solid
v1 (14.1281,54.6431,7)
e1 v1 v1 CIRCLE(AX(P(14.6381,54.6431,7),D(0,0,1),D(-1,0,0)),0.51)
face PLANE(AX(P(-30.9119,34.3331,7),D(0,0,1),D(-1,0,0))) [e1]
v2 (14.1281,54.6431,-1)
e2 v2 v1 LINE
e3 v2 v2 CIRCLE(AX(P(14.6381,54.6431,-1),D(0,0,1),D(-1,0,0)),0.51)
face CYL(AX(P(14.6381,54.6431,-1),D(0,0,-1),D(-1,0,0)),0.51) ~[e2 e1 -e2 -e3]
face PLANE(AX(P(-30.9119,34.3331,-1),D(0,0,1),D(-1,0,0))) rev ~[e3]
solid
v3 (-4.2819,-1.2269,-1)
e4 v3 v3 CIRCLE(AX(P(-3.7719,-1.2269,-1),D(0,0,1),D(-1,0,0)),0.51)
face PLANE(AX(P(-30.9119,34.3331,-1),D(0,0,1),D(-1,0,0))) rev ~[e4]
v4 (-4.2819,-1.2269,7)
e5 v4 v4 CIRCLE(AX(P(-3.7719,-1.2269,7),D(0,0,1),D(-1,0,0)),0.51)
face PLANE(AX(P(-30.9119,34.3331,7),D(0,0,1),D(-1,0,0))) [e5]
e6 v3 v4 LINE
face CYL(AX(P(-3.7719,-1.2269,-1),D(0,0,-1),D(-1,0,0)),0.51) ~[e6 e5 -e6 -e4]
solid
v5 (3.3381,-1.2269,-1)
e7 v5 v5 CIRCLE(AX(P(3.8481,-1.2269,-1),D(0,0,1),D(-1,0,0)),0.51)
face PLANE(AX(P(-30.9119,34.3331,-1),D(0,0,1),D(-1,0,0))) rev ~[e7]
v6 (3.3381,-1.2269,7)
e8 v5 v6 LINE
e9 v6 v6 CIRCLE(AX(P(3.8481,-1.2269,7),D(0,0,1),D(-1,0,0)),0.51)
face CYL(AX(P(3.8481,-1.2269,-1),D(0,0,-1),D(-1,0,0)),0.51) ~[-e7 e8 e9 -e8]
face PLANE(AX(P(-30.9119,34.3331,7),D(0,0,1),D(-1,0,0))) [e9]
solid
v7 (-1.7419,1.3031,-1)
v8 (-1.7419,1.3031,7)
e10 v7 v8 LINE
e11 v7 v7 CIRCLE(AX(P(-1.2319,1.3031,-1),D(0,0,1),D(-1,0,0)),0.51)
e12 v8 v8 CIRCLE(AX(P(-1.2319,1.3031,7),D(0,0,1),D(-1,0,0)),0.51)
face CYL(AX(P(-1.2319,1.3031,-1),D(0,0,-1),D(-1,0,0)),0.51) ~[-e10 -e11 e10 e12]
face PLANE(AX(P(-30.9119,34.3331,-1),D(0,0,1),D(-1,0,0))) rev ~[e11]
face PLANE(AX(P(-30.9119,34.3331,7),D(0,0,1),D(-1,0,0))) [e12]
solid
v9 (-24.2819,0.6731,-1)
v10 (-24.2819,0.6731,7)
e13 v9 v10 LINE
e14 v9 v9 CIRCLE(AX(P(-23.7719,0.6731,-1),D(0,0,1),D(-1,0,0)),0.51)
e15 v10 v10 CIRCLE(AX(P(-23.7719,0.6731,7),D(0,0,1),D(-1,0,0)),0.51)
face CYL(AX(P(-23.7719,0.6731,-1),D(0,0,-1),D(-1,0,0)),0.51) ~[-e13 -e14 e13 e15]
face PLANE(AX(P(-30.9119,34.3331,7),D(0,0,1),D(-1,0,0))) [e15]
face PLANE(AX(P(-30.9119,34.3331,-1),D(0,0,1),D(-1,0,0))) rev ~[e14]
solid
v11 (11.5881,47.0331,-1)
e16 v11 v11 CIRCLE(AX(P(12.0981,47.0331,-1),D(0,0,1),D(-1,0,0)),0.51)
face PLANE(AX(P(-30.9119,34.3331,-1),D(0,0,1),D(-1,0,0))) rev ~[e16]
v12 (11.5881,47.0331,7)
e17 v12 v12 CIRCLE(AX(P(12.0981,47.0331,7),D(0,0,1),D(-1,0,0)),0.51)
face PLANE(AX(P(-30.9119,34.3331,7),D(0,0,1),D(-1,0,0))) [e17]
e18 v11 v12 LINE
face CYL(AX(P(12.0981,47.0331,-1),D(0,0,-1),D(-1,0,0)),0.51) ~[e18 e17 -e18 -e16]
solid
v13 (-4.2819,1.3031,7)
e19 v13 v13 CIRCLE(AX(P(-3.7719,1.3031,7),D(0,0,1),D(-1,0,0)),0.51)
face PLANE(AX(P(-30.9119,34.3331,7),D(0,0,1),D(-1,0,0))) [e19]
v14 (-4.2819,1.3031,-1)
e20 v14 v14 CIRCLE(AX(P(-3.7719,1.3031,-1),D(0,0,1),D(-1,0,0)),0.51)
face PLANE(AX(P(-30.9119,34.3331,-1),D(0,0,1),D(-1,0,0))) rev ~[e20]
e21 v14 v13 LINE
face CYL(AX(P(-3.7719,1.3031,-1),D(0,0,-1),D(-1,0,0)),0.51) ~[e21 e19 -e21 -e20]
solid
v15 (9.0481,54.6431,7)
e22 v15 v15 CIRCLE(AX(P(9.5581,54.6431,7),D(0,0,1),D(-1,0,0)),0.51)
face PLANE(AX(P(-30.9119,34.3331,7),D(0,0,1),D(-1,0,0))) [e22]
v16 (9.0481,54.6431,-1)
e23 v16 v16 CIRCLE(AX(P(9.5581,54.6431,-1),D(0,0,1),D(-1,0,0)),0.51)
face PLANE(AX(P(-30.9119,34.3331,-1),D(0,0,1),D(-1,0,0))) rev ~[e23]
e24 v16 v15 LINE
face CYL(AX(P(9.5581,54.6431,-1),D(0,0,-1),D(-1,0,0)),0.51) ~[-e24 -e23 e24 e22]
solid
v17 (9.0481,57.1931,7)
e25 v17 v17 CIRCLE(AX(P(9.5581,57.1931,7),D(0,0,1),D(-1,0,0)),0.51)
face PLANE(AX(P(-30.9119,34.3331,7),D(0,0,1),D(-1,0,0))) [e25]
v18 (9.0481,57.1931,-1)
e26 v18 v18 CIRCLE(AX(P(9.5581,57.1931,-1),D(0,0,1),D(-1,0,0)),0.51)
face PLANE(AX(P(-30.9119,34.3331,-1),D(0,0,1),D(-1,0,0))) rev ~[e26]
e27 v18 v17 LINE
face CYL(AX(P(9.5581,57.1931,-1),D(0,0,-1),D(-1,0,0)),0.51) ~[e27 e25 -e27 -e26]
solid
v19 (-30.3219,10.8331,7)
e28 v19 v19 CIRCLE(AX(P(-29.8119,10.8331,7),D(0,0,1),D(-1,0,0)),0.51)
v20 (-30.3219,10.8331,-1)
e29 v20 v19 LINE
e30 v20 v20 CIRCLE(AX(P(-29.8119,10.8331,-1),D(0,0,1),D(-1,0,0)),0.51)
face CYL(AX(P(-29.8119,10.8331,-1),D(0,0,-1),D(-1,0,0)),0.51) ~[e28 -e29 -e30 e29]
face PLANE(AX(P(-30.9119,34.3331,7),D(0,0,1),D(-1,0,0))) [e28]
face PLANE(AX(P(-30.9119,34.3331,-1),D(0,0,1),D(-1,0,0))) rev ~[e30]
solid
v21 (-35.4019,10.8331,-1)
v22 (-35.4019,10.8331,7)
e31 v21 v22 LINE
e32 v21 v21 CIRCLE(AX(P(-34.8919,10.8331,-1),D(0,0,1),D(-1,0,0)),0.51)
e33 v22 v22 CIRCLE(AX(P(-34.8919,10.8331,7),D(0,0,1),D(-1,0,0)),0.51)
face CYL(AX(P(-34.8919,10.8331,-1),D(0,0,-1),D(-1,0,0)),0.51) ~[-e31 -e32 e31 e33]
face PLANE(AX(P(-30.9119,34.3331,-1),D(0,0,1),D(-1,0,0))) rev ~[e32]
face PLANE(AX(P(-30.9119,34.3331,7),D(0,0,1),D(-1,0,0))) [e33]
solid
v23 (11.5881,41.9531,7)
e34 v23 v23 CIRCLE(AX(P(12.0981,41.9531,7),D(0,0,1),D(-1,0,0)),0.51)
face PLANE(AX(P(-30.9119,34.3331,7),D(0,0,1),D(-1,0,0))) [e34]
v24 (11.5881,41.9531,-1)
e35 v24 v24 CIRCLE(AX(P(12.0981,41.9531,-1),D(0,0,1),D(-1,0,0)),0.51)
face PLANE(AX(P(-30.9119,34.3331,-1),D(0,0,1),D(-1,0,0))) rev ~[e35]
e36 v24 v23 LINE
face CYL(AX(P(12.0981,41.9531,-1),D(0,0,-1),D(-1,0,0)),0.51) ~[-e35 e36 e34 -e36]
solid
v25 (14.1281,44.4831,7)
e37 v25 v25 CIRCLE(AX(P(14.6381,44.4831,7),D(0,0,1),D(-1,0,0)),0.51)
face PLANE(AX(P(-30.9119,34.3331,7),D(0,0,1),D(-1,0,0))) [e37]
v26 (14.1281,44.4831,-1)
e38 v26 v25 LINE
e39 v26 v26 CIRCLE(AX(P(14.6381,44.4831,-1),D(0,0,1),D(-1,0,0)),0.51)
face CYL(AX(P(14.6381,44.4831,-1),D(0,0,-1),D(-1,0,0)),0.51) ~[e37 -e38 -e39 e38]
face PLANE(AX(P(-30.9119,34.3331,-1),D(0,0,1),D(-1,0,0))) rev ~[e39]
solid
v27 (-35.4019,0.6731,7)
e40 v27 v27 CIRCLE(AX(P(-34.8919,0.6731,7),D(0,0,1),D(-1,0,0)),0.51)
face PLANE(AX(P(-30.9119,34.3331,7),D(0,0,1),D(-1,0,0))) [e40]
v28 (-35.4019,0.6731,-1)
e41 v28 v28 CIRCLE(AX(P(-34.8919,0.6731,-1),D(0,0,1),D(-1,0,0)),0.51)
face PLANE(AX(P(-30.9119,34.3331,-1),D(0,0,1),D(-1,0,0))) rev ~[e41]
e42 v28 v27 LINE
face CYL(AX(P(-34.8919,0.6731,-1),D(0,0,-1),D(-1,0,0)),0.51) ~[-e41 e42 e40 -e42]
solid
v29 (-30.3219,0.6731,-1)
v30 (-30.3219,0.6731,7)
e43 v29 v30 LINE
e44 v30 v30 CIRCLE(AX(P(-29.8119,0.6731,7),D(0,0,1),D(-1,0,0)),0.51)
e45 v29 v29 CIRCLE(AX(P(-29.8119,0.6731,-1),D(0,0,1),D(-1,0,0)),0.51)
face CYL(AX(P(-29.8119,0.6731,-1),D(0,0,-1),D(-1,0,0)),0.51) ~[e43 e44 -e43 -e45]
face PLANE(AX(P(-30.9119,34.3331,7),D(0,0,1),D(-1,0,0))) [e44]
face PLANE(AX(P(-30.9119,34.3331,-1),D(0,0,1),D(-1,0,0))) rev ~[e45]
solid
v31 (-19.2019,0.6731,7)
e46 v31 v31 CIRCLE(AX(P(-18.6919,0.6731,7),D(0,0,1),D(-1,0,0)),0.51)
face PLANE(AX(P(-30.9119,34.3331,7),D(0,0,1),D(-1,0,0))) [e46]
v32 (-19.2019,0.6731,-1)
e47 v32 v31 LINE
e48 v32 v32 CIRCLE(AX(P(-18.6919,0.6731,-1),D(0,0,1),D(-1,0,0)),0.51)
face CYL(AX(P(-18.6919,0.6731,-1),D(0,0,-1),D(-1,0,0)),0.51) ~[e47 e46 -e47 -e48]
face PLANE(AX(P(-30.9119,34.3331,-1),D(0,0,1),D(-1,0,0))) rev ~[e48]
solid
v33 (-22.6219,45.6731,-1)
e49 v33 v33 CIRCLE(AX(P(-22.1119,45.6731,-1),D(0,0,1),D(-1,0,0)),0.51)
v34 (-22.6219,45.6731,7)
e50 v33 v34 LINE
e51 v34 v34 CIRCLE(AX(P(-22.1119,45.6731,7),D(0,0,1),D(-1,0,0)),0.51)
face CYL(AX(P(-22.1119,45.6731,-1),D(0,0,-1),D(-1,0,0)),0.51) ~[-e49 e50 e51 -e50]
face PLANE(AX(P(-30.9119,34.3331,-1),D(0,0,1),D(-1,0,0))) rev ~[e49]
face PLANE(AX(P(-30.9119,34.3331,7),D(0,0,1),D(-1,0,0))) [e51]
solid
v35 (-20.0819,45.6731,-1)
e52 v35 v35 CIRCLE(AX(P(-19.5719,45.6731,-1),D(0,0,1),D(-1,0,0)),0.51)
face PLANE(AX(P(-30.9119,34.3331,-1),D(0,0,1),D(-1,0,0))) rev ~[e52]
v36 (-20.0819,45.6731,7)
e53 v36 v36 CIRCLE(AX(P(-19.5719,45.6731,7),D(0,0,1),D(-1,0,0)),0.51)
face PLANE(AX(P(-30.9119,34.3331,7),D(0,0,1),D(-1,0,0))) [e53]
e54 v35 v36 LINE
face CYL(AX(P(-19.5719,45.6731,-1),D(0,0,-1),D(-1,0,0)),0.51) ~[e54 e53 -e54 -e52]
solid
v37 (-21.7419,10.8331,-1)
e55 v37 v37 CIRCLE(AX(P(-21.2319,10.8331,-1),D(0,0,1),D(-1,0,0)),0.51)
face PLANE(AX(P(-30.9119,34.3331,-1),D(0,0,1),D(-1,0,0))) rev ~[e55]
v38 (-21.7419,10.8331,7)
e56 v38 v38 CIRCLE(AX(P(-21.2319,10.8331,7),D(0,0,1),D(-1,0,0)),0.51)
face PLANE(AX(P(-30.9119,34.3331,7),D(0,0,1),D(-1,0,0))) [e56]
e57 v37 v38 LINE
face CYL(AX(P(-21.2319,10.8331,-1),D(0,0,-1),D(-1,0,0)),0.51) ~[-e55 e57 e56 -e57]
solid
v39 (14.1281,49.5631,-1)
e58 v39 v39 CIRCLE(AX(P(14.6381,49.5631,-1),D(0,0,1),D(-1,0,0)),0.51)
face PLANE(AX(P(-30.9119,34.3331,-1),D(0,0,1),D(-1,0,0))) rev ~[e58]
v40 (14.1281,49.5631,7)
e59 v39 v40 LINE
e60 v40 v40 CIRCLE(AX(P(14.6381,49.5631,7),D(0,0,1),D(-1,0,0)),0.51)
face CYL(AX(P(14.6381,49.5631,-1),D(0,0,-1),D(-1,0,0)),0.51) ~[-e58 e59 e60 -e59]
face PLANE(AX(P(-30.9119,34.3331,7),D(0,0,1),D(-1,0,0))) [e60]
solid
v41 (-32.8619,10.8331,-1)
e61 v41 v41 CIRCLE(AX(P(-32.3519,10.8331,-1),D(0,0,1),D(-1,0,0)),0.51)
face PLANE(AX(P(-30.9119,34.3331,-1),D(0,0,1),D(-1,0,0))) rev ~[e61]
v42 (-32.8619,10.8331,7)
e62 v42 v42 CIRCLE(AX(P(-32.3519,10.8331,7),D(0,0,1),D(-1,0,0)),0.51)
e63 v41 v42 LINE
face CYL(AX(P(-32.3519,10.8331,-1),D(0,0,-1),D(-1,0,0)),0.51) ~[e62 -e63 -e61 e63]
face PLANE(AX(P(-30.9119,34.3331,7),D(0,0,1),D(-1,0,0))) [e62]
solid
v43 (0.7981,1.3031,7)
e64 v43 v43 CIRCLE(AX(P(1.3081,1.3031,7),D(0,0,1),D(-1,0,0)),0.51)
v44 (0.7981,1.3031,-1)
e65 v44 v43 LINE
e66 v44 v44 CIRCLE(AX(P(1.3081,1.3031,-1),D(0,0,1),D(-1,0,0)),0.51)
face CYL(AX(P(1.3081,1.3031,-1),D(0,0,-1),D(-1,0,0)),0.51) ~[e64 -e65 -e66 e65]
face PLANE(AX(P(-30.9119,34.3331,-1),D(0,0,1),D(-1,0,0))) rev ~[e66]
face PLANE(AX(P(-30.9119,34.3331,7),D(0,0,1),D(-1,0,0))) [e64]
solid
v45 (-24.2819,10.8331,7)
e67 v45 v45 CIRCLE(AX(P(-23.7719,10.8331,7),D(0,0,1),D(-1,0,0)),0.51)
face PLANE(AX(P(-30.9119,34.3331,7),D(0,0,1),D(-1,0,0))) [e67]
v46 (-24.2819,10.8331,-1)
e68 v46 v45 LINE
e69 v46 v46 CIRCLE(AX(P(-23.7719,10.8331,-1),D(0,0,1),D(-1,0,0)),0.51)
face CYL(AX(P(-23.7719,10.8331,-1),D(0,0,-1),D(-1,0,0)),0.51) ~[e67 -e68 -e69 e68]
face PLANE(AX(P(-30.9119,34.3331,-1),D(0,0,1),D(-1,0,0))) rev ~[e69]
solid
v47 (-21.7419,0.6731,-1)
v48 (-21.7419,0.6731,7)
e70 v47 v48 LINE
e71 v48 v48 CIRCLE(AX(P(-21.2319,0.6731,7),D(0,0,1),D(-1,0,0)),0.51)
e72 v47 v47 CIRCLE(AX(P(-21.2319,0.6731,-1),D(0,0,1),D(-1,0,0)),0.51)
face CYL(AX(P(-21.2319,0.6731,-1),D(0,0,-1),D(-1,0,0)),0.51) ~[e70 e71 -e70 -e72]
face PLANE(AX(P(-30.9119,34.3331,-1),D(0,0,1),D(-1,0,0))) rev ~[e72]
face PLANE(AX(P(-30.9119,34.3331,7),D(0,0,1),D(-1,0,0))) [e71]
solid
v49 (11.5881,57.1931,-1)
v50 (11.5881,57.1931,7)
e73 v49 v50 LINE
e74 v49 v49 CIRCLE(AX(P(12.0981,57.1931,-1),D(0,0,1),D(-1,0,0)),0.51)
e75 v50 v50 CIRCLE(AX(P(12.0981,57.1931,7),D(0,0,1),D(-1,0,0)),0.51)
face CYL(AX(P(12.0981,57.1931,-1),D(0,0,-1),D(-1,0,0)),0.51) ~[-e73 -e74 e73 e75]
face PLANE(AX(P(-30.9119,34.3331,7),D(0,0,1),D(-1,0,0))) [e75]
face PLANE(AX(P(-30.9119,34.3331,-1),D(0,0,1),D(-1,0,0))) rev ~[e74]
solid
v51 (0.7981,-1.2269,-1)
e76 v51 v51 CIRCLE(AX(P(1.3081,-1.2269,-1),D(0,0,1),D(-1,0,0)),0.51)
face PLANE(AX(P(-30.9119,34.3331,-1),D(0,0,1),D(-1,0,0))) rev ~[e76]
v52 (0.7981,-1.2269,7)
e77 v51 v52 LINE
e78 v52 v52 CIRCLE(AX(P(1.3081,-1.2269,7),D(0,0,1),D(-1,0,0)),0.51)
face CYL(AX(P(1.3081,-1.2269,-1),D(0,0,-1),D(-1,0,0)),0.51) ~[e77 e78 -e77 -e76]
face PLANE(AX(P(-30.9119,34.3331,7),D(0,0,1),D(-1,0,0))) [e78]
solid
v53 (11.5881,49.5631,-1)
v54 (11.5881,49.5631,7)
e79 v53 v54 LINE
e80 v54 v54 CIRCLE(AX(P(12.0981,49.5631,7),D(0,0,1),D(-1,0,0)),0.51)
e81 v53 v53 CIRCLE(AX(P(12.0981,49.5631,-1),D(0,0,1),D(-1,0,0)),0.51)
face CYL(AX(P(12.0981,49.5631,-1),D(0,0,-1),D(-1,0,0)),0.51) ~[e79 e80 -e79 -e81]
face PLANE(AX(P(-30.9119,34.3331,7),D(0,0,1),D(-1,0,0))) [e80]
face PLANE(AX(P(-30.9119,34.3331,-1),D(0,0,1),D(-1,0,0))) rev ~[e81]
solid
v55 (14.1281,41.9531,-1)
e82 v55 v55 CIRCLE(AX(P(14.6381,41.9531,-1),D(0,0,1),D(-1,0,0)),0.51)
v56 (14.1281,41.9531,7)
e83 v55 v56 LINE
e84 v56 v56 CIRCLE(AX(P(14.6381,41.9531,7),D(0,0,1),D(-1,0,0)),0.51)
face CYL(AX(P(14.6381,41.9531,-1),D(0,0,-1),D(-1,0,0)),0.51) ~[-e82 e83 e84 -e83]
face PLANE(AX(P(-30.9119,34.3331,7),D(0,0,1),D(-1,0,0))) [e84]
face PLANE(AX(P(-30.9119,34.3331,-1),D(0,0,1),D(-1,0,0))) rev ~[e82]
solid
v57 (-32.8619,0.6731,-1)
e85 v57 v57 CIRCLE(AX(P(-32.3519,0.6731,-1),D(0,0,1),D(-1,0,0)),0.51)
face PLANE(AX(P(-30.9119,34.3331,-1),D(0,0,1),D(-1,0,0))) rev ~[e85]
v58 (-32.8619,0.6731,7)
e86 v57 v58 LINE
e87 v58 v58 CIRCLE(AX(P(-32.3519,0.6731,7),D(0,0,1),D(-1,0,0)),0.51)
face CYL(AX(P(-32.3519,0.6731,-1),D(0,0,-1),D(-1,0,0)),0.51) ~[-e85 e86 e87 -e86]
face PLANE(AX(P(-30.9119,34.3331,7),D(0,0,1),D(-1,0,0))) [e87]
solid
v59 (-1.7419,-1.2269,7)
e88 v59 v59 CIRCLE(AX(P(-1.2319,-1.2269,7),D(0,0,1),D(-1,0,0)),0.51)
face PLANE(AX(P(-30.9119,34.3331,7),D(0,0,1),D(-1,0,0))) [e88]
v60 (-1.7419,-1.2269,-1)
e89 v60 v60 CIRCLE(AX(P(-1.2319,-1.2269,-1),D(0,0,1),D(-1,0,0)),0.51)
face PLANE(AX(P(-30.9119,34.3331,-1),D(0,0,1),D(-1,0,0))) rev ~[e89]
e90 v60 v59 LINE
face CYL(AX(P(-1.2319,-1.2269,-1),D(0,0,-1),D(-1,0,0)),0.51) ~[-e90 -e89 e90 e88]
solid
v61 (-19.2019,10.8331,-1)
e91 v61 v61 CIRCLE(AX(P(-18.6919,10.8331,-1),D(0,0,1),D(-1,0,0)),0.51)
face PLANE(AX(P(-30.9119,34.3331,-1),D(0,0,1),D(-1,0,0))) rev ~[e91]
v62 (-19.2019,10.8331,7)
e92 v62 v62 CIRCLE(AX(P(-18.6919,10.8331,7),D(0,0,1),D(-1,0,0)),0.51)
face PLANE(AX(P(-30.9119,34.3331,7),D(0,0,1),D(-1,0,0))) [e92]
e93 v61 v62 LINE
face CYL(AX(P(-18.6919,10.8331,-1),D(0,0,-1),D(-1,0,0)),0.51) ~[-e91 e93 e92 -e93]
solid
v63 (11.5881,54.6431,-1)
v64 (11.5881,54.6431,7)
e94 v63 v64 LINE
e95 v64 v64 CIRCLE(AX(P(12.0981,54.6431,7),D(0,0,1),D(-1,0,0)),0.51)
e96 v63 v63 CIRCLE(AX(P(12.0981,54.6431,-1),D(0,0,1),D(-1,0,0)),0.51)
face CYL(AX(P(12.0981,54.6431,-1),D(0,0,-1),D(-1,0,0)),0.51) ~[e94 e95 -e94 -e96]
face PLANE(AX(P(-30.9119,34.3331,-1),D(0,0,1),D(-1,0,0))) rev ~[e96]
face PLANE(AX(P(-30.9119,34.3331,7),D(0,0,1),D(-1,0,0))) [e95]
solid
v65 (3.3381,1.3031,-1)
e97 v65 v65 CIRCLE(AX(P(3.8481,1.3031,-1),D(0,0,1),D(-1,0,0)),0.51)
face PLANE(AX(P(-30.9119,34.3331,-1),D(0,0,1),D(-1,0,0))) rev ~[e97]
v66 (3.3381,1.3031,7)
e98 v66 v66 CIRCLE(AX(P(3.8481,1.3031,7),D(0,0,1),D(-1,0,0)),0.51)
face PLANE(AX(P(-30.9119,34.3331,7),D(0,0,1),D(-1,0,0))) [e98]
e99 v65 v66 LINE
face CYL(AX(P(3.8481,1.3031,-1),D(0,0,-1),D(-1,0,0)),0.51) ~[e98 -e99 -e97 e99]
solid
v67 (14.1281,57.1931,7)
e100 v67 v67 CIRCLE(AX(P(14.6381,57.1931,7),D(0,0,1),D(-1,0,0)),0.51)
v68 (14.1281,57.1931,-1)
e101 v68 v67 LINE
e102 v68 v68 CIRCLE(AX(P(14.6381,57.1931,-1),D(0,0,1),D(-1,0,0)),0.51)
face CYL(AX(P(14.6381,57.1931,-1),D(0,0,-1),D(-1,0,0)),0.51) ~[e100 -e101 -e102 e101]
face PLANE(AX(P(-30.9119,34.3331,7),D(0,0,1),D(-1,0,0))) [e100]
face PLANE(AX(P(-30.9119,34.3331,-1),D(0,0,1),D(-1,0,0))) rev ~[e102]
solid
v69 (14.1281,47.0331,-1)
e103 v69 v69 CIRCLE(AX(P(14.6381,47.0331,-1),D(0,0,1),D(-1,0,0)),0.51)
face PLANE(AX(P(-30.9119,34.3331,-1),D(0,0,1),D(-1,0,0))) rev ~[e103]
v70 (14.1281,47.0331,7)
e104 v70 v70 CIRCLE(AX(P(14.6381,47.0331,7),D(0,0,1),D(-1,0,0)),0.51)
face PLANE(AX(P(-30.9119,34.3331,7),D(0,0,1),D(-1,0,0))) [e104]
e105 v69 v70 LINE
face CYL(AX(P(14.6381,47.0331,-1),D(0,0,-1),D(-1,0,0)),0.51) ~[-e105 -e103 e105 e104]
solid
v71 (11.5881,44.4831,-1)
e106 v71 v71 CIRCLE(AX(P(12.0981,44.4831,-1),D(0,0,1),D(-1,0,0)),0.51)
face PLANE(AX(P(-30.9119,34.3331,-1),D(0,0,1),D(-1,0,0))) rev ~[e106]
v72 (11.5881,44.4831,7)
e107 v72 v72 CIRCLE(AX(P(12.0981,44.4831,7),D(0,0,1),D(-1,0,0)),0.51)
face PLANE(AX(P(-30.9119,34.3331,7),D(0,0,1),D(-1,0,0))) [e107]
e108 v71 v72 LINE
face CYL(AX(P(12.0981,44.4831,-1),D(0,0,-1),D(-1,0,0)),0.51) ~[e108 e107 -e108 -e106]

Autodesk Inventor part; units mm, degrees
ref_plane "YZ Plane" through (0, 0, 0) normal (1, 0, 0) x (0, 1, 0)
ref_plane "XZ Plane" through (0, 0, 0) normal (0, 1, 0) x (-1, 0, 0)
ref_plane "XY Plane" through (0, 0, 0) normal (0, 0, 1) x (1, 0, 0)
ref_plane "Work Plane1" through (-30.9119, 34.3331, -1) normal (0, 0, 1) x (-1, 0, 0)
sketch "Sketch1" plane through (-30.9119, 34.3331, -1) normal (0, 0, 1) x (-1, 0, 0)
  circle A0 centre (43.25, -35) radius 1.8 projected
  circle A1 centre (-43.25, 35) radius 1.8 projected
  circle A2 centre (-43.25, -35) radius 1.8 projected
  circle A3 centre (30.74, 18.1) radius 0.8 projected
  circle A4 centre (23.98, 18.1) radius 0.8 projected
  circle A5 centre (40.4, 18.1) radius 0.8 projected
  circle A6 centre (47.16, 18.1) radius 0.8 projected
  circle A7 centre (33.82, 25.76) radius 0.75 projected
  circle A8 centre (33.82, 35.92) radius 0.75 projected
  circle A9 centre (43.98, 25.76) radius 0.75 projected
  circle A10 centre (43.98, 35.92) radius 0.75 projected
  circle A11 centre (12.23, 25.76) radius 0.75 projected
  circle A12 centre (12.23, 35.92) radius 0.75 projected
  circle A13 centre (22.39, 25.76) radius 0.75 projected
  circle A14 centre (22.39, 35.92) radius 0.75 projected
  circle A15 centre (-36.03, -34.92) radius 0.55 projected
  circle A16 centre (-38.57, -34.92) radius 0.55 projected
  circle A17 centre (-7.7725, -36.5075) radius 0.55 projected
  circle A18 centre (40.805, -30.475) radius 0.55 projected
  circle A19 centre (-11.9, -36.19) radius 0.55 projected
  circle A20 centre (-14.44, -36.19) radius 0.55 projected
  circle A21 centre (-16.98, -36.19) radius 0.55 projected
  circle A22 centre (-11.9, -38.73) radius 0.55 projected
  circle A23 centre (-14.44, -38.73) radius 0.55 projected
  circle A24 centre (-16.98, -38.73) radius 0.55 projected
  circle A25 centre (-8.8, -11.34) radius 0.51 projected
  circle A26 centre (-11.34, -11.34) radius 0.51 projected
  circle A27 centre (-45.55, -7.62) radius 0.51 projected
  circle A28 centre (-43.01, -7.62) radius 0.51 projected
  circle A29 centre (-45.55, -10.15) radius 0.51 projected
  circle A30 centre (-43.01, -10.15) radius 0.51 projected
  circle A31 centre (-45.55, -12.7) radius 0.51 projected
  circle A32 centre (-43.01, -12.7) radius 0.51 projected
  circle A33 centre (-45.55, -15.23) radius 0.51 projected
  circle A34 centre (-43.01, -15.23) radius 0.51 projected
  circle A35 centre (-1.1, 23.5) radius 0.51 projected
  circle A36 centre (1.44, 23.5) radius 0.51 projected
  circle A37 centre (3.98, 23.5) radius 0.51 projected
  circle A38 centre (-12.22, 23.5) radius 0.51 projected
  circle A39 centre (-9.68, 23.5) radius 0.51 projected
  circle A40 centre (-7.14, 23.5) radius 0.51 projected
  circle A41 centre (3.98, 33.66) radius 0.51 projected
  circle A42 centre (1.44, 33.66) radius 0.51 projected
  circle A43 centre (-1.1, 33.66) radius 0.51 projected
  circle A44 centre (-7.14, 33.66) radius 0.51 projected
  circle A45 centre (-9.68, 33.66) radius 0.51 projected
  circle A46 centre (-12.22, 33.66) radius 0.51 projected
  circle A47 centre (-34.76, 33.03) radius 0.51 projected
  circle A48 centre (-34.76, 35.56) radius 0.51 projected
  circle A49 centre (-32.22, 33.03) radius 0.51 projected
  circle A50 centre (-32.22, 35.56) radius 0.51 projected
  circle A51 centre (-29.68, 33.03) radius 0.51 projected
  circle A52 centre (-29.68, 35.56) radius 0.51 projected
  circle A53 centre (-27.14, 33.03) radius 0.51 projected
  circle A54 centre (-27.14, 35.56) radius 0.51 projected
  circle A55 centre (-40.47, -20.31) radius 0.51 projected
  circle A56 centre (-40.47, -22.86) radius 0.51 projected
  circle A57 centre (-43.01, -20.31) radius 0.51 projected
  circle A58 centre (-43.01, -22.86) radius 0.51 projected
  circle A59 centre (-45.55, -20.31) radius 0.51 projected
  circle A60 centre (-45.55, -22.86) radius 0.51 projected
  circle A61 centre (33.82, -10.15) radius 0.51 projected
  circle A62 centre (33.82, -12.7) radius 0.51 projected
  circle A63 centre (33.82, -15.23) radius 0.51 projected
  circle A64 centre (33.82, -17.77) radius 0.51 projected
  circle A65 centre (10.33, -1.9) radius 0.51 projected
  circle A66 centre (10.33, 0.64) radius 0.51 projected
  circle A67 centre (-25.36, -29.21) radius 0.405 projected
  circle A68 centre (-30.19, -29.21) radius 0.405 projected
  circle A69 centre (19.98, -20.95) radius 0.405 projected
  circle A70 centre (24.8, -20.95) radius 0.405 projected
  circle A71 centre (40.4875, 22.5475) radius 0.3 projected
  circle A72 centre (43.98, 16.8325) radius 0.3 projected
  circle A73 centre (43.98, 19.69) radius 0.3 projected
  circle A74 centre (43.98, 22.5475) radius 0.3 projected
  circle A75 centre (47.155, 26.675) radius 0.3 projected
  circle A76 centre (47.155, 31.12) radius 0.3 projected
  circle A77 centre (43.345, 31.12) radius 0.3 projected
  circle A78 centre (47.155, 35.565) radius 0.3 projected
  circle A79 centre (47.79, 22.5475) radius 0.3 projected
  circle A80 centre (30.3275, 29.215) radius 0.3 projected
  circle A81 centre (1.435, 38.4225) radius 0.3 projected
  circle A82 centre (34.1375, 33.025) radius 0.3 projected
  circle A83 centre (21.755, 33.025) radius 0.3 projected
  circle A84 centre (25.565, 29.215) radius 0.3 projected
  circle A85 centre (21.755, 29.215) radius 0.3 projected
  circle A86 centre (25.565, 33.025) radius 0.3 projected
  circle A87 centre (30.3275, 33.025) radius 0.3 projected
  circle A88 centre (34.1375, 29.215) radius 0.3 projected
  circle A89 centre (28.105, 36.5175) radius 0.3 projected
  circle A90 centre (28.105, 25.0875) radius 0.3 projected
  circle A91 centre (-20.79, -12.3775) radius 0.3 projected
  circle A92 centre (-24.9175, -10.4725) radius 0.3 projected
  circle A93 centre (-24.6, -8.25) radius 0.3 projected
  circle A94 centre (-2.375, -13.965) radius 0.3 projected
  circle A95 centre (-30.315, -13.965) radius 0.3 projected
  circle A96 centre (-19.52, -11.425) radius 0.3 projected
  circle A97 centre (-23.33, -12.695) radius 0.3 projected
  circle A98 centre (-22.06, -6.98) radius 0.3 projected
  circle A99 centre (-12.535, -26.665) radius 0.3 projected
  circle A100 centre (-3.645, -15.235) radius 0.3 projected
  circle A101 centre (-37.3, -12.695) radius 0.3 projected
  circle A102 centre (-25.87, -12.695) radius 0.3 projected
  circle A103 centre (-36.03, -24.76) radius 0.3 projected
  circle A104 centre (-30.315, -6.98) radius 0.3 projected
  circle A105 centre (-15.075, -26.665) radius 0.3 projected
  circle A106 centre (-36.03, 1.91) radius 0.3 projected
  circle A107 centre (-34.76, -10.155) radius 0.3 projected
  circle A108 centre (-21.425, -26.03) radius 0.3 projected
  circle A109 centre (-34.76, 3.18) radius 0.3 projected
  circle A110 centre (1.435, -24.76) radius 0.3 projected
  circle A111 centre (-1.105, -19.045) radius 0.3 projected
  circle A112 centre (25.565, -17.14) radius 0.3 projected
  circle A113 centre (21.12, -17.14) radius 0.3 projected
  circle A114 centre (15.405, -6.98) radius 0.3 projected
  circle A115 centre (-5.55, -6.98) radius 0.3 projected
  circle A116 centre (-4.28, -25.395) radius 0.3 projected
  circle A117 centre (5.88, -13.965) radius 0.3 projected
  circle A118 centre (2.07, -13.965) radius 0.3 projected
  circle A119 centre (-12.535, -24.125) radius 0.3 projected
  circle A120 centre (-30.315, -15.87) radius 0.3 projected
  circle A121 centre (3.975, -8.25) radius 0.3 projected
  circle A122 centre (13.5, -8.25) radius 0.3 projected
  circle A123 centre (-33.49, -11.425) radius 0.3 projected
  circle A124 centre (-23.965, -24.125) radius 0.3 projected
  circle A125 centre (-33.49, 1.275) radius 0.3 projected
  circle A126 centre (29.375, 0.64) radius 0.3 projected
  circle A127 centre (40.805, 0.64) radius 0.3 projected
  circle A128 centre (-39.5225, -29.205) radius 0.3 projected
  circle A129 centre (-24.6, -4.44) radius 0.3 projected
  circle A130 centre (-27.775, -4.44) radius 0.3 projected
  circle A131 centre (22.39, -26.3475) radius 0.3 projected
  circle A132 centre (-13.17, 9.53) radius 0.3 projected
  circle A133 centre (-33.1725, -33.9675) radius 0.3 projected
  circle A134 centre (3.34, -26.03) radius 0.3 projected
  circle A135 centre (-14.44, -15.235) radius 0.3 projected
  circle A136 centre (-17.9325, -6.98) radius 0.3 projected
  circle A137 centre (-15.075, -3.17) radius 0.3 projected
  circle A138 centre (-46.825, 8.26) radius 0.3 projected
  circle A139 centre (0.8, -11.1075) radius 0.3 projected
  circle A140 centre (-9.36, -16.505) radius 0.3 projected
  circle A141 centre (12.865, -19.045) radius 0.3 projected
  circle A142 centre (38.9, -24.76) radius 0.3 projected
  circle A143 centre (42.075, -10.79) radius 0.3 projected
  circle A144 centre (34.455, 9.53) radius 0.3 projected
  circle A145 centre (38.9, -6.345) radius 0.3 projected
  circle A146 centre (-28.41, 28.58) radius 0.3 projected
  circle A147 centre (-22.06, 28.58) radius 0.3 projected
  circle A148 centre (-47.46, 17.4675) radius 0.3 projected
  circle A149 centre (27.47, 18.1025) radius 0.3 projected
  circle A150 centre (32.2325, 20.96) radius 0.3 projected
  circle A151 centre (27.47, 15.88) radius 0.3 projected
  circle A152 centre (27.47, 20.325) radius 0.3 projected
  circle A153 centre (22.39, 20.96) radius 0.3 projected
  circle A154 centre (21.4375, 18.42) radius 0.3 projected
  circle A155 centre (-2.375, 13.34) radius 0.3 projected
  circle A156 centre (11.9125, 31.12) radius 0.3 projected
  circle A157 centre (12.23, 20.325) radius 0.3 projected
  circle A158 centre (14.77, 23.5) radius 0.3 projected
  circle A159 centre (9.69, 23.5) radius 0.3 projected
  circle A160 centre (14.135, 29.215) radius 0.3 projected
  circle A161 centre (9.69, 29.215) radius 0.3 projected
  circle A162 centre (14.135, 32.7075) radius 0.3 projected
  circle A163 centre (9.69, 32.7075) radius 0.3 projected
  circle A164 centre (7.785, 15.88) radius 0.3 projected
  circle A165 centre (14.77, -9.52) radius 0.3 projected
  circle A166 centre (-22.06, -11.425) radius 0.3 projected
  circle A167 centre (-0.47, -5.075) radius 0.3 projected
  circle A168 centre (-0.47, -12.06) radius 0.3 projected
  circle A169 centre (-40.1575, 2.8625) radius 0.3 projected
  circle A170 centre (-32.22, 9.53) radius 0.3 projected
  circle A171 centre (-6.82, -5.075) radius 0.3 projected
  circle A172 centre (45.885, -16.505) radius 0.3 projected
  circle A173 centre (41.44, -16.505) radius 0.3 projected
  circle A174 centre (36.995, -8.885) radius 0.3 projected
  circle A175 centre (45.25, -8.885) radius 0.3 projected
  circle A176 centre (-43.65, 0.9575) radius 0.3 projected
  circle A177 centre (-20.155, -5.075) radius 0.3 projected
  circle A178 centre (-26.1875, -6.345) radius 0.3 projected
  circle A179 centre (-23.965, 31.12) radius 0.3 projected
  circle A180 centre (-32.22, 14.61) radius 0.3 projected
  circle A181 centre (-39.84, 22.23) radius 0.3 projected
  circle A182 centre (-43.65, 23.5) radius 0.3 projected
  circle A183 centre (9.69, -13.965) radius 0.3 projected
  circle A184 centre (44.2975, -27.935) radius 0.3 projected
  circle A185 centre (-27.14, -19.045) radius 0.3 projected
  circle A186 centre (-30.315, -22.22) radius 0.3 projected
  line L0 (-50, -40) -> (50, -40) projected
  line L1 (50, -40) -> (50, 40) projected
  line L2 (50, 40) -> (-50, 40) projected
  line L3 (-50, 40) -> (-50, -40) projected
  point P0 (-30.9119, 34.3331)
extrude "Extrusion1" add sketch "Sketch1" along normal blind 8 contours A25 | A26 | A27 | A28 | A29 | A30 | A31 | A32 | A33 | A34 | A35 | A36 | A37 | A38 | A39 | A40 | A41 | A42 | A43 | A44 | A45 | A46 | A47 | A48 | A49 | A50 | A51 | A52 | A53 | A54 | A55 | A56 | A57 | A58 | A59 | A60
properties part number "headers"
